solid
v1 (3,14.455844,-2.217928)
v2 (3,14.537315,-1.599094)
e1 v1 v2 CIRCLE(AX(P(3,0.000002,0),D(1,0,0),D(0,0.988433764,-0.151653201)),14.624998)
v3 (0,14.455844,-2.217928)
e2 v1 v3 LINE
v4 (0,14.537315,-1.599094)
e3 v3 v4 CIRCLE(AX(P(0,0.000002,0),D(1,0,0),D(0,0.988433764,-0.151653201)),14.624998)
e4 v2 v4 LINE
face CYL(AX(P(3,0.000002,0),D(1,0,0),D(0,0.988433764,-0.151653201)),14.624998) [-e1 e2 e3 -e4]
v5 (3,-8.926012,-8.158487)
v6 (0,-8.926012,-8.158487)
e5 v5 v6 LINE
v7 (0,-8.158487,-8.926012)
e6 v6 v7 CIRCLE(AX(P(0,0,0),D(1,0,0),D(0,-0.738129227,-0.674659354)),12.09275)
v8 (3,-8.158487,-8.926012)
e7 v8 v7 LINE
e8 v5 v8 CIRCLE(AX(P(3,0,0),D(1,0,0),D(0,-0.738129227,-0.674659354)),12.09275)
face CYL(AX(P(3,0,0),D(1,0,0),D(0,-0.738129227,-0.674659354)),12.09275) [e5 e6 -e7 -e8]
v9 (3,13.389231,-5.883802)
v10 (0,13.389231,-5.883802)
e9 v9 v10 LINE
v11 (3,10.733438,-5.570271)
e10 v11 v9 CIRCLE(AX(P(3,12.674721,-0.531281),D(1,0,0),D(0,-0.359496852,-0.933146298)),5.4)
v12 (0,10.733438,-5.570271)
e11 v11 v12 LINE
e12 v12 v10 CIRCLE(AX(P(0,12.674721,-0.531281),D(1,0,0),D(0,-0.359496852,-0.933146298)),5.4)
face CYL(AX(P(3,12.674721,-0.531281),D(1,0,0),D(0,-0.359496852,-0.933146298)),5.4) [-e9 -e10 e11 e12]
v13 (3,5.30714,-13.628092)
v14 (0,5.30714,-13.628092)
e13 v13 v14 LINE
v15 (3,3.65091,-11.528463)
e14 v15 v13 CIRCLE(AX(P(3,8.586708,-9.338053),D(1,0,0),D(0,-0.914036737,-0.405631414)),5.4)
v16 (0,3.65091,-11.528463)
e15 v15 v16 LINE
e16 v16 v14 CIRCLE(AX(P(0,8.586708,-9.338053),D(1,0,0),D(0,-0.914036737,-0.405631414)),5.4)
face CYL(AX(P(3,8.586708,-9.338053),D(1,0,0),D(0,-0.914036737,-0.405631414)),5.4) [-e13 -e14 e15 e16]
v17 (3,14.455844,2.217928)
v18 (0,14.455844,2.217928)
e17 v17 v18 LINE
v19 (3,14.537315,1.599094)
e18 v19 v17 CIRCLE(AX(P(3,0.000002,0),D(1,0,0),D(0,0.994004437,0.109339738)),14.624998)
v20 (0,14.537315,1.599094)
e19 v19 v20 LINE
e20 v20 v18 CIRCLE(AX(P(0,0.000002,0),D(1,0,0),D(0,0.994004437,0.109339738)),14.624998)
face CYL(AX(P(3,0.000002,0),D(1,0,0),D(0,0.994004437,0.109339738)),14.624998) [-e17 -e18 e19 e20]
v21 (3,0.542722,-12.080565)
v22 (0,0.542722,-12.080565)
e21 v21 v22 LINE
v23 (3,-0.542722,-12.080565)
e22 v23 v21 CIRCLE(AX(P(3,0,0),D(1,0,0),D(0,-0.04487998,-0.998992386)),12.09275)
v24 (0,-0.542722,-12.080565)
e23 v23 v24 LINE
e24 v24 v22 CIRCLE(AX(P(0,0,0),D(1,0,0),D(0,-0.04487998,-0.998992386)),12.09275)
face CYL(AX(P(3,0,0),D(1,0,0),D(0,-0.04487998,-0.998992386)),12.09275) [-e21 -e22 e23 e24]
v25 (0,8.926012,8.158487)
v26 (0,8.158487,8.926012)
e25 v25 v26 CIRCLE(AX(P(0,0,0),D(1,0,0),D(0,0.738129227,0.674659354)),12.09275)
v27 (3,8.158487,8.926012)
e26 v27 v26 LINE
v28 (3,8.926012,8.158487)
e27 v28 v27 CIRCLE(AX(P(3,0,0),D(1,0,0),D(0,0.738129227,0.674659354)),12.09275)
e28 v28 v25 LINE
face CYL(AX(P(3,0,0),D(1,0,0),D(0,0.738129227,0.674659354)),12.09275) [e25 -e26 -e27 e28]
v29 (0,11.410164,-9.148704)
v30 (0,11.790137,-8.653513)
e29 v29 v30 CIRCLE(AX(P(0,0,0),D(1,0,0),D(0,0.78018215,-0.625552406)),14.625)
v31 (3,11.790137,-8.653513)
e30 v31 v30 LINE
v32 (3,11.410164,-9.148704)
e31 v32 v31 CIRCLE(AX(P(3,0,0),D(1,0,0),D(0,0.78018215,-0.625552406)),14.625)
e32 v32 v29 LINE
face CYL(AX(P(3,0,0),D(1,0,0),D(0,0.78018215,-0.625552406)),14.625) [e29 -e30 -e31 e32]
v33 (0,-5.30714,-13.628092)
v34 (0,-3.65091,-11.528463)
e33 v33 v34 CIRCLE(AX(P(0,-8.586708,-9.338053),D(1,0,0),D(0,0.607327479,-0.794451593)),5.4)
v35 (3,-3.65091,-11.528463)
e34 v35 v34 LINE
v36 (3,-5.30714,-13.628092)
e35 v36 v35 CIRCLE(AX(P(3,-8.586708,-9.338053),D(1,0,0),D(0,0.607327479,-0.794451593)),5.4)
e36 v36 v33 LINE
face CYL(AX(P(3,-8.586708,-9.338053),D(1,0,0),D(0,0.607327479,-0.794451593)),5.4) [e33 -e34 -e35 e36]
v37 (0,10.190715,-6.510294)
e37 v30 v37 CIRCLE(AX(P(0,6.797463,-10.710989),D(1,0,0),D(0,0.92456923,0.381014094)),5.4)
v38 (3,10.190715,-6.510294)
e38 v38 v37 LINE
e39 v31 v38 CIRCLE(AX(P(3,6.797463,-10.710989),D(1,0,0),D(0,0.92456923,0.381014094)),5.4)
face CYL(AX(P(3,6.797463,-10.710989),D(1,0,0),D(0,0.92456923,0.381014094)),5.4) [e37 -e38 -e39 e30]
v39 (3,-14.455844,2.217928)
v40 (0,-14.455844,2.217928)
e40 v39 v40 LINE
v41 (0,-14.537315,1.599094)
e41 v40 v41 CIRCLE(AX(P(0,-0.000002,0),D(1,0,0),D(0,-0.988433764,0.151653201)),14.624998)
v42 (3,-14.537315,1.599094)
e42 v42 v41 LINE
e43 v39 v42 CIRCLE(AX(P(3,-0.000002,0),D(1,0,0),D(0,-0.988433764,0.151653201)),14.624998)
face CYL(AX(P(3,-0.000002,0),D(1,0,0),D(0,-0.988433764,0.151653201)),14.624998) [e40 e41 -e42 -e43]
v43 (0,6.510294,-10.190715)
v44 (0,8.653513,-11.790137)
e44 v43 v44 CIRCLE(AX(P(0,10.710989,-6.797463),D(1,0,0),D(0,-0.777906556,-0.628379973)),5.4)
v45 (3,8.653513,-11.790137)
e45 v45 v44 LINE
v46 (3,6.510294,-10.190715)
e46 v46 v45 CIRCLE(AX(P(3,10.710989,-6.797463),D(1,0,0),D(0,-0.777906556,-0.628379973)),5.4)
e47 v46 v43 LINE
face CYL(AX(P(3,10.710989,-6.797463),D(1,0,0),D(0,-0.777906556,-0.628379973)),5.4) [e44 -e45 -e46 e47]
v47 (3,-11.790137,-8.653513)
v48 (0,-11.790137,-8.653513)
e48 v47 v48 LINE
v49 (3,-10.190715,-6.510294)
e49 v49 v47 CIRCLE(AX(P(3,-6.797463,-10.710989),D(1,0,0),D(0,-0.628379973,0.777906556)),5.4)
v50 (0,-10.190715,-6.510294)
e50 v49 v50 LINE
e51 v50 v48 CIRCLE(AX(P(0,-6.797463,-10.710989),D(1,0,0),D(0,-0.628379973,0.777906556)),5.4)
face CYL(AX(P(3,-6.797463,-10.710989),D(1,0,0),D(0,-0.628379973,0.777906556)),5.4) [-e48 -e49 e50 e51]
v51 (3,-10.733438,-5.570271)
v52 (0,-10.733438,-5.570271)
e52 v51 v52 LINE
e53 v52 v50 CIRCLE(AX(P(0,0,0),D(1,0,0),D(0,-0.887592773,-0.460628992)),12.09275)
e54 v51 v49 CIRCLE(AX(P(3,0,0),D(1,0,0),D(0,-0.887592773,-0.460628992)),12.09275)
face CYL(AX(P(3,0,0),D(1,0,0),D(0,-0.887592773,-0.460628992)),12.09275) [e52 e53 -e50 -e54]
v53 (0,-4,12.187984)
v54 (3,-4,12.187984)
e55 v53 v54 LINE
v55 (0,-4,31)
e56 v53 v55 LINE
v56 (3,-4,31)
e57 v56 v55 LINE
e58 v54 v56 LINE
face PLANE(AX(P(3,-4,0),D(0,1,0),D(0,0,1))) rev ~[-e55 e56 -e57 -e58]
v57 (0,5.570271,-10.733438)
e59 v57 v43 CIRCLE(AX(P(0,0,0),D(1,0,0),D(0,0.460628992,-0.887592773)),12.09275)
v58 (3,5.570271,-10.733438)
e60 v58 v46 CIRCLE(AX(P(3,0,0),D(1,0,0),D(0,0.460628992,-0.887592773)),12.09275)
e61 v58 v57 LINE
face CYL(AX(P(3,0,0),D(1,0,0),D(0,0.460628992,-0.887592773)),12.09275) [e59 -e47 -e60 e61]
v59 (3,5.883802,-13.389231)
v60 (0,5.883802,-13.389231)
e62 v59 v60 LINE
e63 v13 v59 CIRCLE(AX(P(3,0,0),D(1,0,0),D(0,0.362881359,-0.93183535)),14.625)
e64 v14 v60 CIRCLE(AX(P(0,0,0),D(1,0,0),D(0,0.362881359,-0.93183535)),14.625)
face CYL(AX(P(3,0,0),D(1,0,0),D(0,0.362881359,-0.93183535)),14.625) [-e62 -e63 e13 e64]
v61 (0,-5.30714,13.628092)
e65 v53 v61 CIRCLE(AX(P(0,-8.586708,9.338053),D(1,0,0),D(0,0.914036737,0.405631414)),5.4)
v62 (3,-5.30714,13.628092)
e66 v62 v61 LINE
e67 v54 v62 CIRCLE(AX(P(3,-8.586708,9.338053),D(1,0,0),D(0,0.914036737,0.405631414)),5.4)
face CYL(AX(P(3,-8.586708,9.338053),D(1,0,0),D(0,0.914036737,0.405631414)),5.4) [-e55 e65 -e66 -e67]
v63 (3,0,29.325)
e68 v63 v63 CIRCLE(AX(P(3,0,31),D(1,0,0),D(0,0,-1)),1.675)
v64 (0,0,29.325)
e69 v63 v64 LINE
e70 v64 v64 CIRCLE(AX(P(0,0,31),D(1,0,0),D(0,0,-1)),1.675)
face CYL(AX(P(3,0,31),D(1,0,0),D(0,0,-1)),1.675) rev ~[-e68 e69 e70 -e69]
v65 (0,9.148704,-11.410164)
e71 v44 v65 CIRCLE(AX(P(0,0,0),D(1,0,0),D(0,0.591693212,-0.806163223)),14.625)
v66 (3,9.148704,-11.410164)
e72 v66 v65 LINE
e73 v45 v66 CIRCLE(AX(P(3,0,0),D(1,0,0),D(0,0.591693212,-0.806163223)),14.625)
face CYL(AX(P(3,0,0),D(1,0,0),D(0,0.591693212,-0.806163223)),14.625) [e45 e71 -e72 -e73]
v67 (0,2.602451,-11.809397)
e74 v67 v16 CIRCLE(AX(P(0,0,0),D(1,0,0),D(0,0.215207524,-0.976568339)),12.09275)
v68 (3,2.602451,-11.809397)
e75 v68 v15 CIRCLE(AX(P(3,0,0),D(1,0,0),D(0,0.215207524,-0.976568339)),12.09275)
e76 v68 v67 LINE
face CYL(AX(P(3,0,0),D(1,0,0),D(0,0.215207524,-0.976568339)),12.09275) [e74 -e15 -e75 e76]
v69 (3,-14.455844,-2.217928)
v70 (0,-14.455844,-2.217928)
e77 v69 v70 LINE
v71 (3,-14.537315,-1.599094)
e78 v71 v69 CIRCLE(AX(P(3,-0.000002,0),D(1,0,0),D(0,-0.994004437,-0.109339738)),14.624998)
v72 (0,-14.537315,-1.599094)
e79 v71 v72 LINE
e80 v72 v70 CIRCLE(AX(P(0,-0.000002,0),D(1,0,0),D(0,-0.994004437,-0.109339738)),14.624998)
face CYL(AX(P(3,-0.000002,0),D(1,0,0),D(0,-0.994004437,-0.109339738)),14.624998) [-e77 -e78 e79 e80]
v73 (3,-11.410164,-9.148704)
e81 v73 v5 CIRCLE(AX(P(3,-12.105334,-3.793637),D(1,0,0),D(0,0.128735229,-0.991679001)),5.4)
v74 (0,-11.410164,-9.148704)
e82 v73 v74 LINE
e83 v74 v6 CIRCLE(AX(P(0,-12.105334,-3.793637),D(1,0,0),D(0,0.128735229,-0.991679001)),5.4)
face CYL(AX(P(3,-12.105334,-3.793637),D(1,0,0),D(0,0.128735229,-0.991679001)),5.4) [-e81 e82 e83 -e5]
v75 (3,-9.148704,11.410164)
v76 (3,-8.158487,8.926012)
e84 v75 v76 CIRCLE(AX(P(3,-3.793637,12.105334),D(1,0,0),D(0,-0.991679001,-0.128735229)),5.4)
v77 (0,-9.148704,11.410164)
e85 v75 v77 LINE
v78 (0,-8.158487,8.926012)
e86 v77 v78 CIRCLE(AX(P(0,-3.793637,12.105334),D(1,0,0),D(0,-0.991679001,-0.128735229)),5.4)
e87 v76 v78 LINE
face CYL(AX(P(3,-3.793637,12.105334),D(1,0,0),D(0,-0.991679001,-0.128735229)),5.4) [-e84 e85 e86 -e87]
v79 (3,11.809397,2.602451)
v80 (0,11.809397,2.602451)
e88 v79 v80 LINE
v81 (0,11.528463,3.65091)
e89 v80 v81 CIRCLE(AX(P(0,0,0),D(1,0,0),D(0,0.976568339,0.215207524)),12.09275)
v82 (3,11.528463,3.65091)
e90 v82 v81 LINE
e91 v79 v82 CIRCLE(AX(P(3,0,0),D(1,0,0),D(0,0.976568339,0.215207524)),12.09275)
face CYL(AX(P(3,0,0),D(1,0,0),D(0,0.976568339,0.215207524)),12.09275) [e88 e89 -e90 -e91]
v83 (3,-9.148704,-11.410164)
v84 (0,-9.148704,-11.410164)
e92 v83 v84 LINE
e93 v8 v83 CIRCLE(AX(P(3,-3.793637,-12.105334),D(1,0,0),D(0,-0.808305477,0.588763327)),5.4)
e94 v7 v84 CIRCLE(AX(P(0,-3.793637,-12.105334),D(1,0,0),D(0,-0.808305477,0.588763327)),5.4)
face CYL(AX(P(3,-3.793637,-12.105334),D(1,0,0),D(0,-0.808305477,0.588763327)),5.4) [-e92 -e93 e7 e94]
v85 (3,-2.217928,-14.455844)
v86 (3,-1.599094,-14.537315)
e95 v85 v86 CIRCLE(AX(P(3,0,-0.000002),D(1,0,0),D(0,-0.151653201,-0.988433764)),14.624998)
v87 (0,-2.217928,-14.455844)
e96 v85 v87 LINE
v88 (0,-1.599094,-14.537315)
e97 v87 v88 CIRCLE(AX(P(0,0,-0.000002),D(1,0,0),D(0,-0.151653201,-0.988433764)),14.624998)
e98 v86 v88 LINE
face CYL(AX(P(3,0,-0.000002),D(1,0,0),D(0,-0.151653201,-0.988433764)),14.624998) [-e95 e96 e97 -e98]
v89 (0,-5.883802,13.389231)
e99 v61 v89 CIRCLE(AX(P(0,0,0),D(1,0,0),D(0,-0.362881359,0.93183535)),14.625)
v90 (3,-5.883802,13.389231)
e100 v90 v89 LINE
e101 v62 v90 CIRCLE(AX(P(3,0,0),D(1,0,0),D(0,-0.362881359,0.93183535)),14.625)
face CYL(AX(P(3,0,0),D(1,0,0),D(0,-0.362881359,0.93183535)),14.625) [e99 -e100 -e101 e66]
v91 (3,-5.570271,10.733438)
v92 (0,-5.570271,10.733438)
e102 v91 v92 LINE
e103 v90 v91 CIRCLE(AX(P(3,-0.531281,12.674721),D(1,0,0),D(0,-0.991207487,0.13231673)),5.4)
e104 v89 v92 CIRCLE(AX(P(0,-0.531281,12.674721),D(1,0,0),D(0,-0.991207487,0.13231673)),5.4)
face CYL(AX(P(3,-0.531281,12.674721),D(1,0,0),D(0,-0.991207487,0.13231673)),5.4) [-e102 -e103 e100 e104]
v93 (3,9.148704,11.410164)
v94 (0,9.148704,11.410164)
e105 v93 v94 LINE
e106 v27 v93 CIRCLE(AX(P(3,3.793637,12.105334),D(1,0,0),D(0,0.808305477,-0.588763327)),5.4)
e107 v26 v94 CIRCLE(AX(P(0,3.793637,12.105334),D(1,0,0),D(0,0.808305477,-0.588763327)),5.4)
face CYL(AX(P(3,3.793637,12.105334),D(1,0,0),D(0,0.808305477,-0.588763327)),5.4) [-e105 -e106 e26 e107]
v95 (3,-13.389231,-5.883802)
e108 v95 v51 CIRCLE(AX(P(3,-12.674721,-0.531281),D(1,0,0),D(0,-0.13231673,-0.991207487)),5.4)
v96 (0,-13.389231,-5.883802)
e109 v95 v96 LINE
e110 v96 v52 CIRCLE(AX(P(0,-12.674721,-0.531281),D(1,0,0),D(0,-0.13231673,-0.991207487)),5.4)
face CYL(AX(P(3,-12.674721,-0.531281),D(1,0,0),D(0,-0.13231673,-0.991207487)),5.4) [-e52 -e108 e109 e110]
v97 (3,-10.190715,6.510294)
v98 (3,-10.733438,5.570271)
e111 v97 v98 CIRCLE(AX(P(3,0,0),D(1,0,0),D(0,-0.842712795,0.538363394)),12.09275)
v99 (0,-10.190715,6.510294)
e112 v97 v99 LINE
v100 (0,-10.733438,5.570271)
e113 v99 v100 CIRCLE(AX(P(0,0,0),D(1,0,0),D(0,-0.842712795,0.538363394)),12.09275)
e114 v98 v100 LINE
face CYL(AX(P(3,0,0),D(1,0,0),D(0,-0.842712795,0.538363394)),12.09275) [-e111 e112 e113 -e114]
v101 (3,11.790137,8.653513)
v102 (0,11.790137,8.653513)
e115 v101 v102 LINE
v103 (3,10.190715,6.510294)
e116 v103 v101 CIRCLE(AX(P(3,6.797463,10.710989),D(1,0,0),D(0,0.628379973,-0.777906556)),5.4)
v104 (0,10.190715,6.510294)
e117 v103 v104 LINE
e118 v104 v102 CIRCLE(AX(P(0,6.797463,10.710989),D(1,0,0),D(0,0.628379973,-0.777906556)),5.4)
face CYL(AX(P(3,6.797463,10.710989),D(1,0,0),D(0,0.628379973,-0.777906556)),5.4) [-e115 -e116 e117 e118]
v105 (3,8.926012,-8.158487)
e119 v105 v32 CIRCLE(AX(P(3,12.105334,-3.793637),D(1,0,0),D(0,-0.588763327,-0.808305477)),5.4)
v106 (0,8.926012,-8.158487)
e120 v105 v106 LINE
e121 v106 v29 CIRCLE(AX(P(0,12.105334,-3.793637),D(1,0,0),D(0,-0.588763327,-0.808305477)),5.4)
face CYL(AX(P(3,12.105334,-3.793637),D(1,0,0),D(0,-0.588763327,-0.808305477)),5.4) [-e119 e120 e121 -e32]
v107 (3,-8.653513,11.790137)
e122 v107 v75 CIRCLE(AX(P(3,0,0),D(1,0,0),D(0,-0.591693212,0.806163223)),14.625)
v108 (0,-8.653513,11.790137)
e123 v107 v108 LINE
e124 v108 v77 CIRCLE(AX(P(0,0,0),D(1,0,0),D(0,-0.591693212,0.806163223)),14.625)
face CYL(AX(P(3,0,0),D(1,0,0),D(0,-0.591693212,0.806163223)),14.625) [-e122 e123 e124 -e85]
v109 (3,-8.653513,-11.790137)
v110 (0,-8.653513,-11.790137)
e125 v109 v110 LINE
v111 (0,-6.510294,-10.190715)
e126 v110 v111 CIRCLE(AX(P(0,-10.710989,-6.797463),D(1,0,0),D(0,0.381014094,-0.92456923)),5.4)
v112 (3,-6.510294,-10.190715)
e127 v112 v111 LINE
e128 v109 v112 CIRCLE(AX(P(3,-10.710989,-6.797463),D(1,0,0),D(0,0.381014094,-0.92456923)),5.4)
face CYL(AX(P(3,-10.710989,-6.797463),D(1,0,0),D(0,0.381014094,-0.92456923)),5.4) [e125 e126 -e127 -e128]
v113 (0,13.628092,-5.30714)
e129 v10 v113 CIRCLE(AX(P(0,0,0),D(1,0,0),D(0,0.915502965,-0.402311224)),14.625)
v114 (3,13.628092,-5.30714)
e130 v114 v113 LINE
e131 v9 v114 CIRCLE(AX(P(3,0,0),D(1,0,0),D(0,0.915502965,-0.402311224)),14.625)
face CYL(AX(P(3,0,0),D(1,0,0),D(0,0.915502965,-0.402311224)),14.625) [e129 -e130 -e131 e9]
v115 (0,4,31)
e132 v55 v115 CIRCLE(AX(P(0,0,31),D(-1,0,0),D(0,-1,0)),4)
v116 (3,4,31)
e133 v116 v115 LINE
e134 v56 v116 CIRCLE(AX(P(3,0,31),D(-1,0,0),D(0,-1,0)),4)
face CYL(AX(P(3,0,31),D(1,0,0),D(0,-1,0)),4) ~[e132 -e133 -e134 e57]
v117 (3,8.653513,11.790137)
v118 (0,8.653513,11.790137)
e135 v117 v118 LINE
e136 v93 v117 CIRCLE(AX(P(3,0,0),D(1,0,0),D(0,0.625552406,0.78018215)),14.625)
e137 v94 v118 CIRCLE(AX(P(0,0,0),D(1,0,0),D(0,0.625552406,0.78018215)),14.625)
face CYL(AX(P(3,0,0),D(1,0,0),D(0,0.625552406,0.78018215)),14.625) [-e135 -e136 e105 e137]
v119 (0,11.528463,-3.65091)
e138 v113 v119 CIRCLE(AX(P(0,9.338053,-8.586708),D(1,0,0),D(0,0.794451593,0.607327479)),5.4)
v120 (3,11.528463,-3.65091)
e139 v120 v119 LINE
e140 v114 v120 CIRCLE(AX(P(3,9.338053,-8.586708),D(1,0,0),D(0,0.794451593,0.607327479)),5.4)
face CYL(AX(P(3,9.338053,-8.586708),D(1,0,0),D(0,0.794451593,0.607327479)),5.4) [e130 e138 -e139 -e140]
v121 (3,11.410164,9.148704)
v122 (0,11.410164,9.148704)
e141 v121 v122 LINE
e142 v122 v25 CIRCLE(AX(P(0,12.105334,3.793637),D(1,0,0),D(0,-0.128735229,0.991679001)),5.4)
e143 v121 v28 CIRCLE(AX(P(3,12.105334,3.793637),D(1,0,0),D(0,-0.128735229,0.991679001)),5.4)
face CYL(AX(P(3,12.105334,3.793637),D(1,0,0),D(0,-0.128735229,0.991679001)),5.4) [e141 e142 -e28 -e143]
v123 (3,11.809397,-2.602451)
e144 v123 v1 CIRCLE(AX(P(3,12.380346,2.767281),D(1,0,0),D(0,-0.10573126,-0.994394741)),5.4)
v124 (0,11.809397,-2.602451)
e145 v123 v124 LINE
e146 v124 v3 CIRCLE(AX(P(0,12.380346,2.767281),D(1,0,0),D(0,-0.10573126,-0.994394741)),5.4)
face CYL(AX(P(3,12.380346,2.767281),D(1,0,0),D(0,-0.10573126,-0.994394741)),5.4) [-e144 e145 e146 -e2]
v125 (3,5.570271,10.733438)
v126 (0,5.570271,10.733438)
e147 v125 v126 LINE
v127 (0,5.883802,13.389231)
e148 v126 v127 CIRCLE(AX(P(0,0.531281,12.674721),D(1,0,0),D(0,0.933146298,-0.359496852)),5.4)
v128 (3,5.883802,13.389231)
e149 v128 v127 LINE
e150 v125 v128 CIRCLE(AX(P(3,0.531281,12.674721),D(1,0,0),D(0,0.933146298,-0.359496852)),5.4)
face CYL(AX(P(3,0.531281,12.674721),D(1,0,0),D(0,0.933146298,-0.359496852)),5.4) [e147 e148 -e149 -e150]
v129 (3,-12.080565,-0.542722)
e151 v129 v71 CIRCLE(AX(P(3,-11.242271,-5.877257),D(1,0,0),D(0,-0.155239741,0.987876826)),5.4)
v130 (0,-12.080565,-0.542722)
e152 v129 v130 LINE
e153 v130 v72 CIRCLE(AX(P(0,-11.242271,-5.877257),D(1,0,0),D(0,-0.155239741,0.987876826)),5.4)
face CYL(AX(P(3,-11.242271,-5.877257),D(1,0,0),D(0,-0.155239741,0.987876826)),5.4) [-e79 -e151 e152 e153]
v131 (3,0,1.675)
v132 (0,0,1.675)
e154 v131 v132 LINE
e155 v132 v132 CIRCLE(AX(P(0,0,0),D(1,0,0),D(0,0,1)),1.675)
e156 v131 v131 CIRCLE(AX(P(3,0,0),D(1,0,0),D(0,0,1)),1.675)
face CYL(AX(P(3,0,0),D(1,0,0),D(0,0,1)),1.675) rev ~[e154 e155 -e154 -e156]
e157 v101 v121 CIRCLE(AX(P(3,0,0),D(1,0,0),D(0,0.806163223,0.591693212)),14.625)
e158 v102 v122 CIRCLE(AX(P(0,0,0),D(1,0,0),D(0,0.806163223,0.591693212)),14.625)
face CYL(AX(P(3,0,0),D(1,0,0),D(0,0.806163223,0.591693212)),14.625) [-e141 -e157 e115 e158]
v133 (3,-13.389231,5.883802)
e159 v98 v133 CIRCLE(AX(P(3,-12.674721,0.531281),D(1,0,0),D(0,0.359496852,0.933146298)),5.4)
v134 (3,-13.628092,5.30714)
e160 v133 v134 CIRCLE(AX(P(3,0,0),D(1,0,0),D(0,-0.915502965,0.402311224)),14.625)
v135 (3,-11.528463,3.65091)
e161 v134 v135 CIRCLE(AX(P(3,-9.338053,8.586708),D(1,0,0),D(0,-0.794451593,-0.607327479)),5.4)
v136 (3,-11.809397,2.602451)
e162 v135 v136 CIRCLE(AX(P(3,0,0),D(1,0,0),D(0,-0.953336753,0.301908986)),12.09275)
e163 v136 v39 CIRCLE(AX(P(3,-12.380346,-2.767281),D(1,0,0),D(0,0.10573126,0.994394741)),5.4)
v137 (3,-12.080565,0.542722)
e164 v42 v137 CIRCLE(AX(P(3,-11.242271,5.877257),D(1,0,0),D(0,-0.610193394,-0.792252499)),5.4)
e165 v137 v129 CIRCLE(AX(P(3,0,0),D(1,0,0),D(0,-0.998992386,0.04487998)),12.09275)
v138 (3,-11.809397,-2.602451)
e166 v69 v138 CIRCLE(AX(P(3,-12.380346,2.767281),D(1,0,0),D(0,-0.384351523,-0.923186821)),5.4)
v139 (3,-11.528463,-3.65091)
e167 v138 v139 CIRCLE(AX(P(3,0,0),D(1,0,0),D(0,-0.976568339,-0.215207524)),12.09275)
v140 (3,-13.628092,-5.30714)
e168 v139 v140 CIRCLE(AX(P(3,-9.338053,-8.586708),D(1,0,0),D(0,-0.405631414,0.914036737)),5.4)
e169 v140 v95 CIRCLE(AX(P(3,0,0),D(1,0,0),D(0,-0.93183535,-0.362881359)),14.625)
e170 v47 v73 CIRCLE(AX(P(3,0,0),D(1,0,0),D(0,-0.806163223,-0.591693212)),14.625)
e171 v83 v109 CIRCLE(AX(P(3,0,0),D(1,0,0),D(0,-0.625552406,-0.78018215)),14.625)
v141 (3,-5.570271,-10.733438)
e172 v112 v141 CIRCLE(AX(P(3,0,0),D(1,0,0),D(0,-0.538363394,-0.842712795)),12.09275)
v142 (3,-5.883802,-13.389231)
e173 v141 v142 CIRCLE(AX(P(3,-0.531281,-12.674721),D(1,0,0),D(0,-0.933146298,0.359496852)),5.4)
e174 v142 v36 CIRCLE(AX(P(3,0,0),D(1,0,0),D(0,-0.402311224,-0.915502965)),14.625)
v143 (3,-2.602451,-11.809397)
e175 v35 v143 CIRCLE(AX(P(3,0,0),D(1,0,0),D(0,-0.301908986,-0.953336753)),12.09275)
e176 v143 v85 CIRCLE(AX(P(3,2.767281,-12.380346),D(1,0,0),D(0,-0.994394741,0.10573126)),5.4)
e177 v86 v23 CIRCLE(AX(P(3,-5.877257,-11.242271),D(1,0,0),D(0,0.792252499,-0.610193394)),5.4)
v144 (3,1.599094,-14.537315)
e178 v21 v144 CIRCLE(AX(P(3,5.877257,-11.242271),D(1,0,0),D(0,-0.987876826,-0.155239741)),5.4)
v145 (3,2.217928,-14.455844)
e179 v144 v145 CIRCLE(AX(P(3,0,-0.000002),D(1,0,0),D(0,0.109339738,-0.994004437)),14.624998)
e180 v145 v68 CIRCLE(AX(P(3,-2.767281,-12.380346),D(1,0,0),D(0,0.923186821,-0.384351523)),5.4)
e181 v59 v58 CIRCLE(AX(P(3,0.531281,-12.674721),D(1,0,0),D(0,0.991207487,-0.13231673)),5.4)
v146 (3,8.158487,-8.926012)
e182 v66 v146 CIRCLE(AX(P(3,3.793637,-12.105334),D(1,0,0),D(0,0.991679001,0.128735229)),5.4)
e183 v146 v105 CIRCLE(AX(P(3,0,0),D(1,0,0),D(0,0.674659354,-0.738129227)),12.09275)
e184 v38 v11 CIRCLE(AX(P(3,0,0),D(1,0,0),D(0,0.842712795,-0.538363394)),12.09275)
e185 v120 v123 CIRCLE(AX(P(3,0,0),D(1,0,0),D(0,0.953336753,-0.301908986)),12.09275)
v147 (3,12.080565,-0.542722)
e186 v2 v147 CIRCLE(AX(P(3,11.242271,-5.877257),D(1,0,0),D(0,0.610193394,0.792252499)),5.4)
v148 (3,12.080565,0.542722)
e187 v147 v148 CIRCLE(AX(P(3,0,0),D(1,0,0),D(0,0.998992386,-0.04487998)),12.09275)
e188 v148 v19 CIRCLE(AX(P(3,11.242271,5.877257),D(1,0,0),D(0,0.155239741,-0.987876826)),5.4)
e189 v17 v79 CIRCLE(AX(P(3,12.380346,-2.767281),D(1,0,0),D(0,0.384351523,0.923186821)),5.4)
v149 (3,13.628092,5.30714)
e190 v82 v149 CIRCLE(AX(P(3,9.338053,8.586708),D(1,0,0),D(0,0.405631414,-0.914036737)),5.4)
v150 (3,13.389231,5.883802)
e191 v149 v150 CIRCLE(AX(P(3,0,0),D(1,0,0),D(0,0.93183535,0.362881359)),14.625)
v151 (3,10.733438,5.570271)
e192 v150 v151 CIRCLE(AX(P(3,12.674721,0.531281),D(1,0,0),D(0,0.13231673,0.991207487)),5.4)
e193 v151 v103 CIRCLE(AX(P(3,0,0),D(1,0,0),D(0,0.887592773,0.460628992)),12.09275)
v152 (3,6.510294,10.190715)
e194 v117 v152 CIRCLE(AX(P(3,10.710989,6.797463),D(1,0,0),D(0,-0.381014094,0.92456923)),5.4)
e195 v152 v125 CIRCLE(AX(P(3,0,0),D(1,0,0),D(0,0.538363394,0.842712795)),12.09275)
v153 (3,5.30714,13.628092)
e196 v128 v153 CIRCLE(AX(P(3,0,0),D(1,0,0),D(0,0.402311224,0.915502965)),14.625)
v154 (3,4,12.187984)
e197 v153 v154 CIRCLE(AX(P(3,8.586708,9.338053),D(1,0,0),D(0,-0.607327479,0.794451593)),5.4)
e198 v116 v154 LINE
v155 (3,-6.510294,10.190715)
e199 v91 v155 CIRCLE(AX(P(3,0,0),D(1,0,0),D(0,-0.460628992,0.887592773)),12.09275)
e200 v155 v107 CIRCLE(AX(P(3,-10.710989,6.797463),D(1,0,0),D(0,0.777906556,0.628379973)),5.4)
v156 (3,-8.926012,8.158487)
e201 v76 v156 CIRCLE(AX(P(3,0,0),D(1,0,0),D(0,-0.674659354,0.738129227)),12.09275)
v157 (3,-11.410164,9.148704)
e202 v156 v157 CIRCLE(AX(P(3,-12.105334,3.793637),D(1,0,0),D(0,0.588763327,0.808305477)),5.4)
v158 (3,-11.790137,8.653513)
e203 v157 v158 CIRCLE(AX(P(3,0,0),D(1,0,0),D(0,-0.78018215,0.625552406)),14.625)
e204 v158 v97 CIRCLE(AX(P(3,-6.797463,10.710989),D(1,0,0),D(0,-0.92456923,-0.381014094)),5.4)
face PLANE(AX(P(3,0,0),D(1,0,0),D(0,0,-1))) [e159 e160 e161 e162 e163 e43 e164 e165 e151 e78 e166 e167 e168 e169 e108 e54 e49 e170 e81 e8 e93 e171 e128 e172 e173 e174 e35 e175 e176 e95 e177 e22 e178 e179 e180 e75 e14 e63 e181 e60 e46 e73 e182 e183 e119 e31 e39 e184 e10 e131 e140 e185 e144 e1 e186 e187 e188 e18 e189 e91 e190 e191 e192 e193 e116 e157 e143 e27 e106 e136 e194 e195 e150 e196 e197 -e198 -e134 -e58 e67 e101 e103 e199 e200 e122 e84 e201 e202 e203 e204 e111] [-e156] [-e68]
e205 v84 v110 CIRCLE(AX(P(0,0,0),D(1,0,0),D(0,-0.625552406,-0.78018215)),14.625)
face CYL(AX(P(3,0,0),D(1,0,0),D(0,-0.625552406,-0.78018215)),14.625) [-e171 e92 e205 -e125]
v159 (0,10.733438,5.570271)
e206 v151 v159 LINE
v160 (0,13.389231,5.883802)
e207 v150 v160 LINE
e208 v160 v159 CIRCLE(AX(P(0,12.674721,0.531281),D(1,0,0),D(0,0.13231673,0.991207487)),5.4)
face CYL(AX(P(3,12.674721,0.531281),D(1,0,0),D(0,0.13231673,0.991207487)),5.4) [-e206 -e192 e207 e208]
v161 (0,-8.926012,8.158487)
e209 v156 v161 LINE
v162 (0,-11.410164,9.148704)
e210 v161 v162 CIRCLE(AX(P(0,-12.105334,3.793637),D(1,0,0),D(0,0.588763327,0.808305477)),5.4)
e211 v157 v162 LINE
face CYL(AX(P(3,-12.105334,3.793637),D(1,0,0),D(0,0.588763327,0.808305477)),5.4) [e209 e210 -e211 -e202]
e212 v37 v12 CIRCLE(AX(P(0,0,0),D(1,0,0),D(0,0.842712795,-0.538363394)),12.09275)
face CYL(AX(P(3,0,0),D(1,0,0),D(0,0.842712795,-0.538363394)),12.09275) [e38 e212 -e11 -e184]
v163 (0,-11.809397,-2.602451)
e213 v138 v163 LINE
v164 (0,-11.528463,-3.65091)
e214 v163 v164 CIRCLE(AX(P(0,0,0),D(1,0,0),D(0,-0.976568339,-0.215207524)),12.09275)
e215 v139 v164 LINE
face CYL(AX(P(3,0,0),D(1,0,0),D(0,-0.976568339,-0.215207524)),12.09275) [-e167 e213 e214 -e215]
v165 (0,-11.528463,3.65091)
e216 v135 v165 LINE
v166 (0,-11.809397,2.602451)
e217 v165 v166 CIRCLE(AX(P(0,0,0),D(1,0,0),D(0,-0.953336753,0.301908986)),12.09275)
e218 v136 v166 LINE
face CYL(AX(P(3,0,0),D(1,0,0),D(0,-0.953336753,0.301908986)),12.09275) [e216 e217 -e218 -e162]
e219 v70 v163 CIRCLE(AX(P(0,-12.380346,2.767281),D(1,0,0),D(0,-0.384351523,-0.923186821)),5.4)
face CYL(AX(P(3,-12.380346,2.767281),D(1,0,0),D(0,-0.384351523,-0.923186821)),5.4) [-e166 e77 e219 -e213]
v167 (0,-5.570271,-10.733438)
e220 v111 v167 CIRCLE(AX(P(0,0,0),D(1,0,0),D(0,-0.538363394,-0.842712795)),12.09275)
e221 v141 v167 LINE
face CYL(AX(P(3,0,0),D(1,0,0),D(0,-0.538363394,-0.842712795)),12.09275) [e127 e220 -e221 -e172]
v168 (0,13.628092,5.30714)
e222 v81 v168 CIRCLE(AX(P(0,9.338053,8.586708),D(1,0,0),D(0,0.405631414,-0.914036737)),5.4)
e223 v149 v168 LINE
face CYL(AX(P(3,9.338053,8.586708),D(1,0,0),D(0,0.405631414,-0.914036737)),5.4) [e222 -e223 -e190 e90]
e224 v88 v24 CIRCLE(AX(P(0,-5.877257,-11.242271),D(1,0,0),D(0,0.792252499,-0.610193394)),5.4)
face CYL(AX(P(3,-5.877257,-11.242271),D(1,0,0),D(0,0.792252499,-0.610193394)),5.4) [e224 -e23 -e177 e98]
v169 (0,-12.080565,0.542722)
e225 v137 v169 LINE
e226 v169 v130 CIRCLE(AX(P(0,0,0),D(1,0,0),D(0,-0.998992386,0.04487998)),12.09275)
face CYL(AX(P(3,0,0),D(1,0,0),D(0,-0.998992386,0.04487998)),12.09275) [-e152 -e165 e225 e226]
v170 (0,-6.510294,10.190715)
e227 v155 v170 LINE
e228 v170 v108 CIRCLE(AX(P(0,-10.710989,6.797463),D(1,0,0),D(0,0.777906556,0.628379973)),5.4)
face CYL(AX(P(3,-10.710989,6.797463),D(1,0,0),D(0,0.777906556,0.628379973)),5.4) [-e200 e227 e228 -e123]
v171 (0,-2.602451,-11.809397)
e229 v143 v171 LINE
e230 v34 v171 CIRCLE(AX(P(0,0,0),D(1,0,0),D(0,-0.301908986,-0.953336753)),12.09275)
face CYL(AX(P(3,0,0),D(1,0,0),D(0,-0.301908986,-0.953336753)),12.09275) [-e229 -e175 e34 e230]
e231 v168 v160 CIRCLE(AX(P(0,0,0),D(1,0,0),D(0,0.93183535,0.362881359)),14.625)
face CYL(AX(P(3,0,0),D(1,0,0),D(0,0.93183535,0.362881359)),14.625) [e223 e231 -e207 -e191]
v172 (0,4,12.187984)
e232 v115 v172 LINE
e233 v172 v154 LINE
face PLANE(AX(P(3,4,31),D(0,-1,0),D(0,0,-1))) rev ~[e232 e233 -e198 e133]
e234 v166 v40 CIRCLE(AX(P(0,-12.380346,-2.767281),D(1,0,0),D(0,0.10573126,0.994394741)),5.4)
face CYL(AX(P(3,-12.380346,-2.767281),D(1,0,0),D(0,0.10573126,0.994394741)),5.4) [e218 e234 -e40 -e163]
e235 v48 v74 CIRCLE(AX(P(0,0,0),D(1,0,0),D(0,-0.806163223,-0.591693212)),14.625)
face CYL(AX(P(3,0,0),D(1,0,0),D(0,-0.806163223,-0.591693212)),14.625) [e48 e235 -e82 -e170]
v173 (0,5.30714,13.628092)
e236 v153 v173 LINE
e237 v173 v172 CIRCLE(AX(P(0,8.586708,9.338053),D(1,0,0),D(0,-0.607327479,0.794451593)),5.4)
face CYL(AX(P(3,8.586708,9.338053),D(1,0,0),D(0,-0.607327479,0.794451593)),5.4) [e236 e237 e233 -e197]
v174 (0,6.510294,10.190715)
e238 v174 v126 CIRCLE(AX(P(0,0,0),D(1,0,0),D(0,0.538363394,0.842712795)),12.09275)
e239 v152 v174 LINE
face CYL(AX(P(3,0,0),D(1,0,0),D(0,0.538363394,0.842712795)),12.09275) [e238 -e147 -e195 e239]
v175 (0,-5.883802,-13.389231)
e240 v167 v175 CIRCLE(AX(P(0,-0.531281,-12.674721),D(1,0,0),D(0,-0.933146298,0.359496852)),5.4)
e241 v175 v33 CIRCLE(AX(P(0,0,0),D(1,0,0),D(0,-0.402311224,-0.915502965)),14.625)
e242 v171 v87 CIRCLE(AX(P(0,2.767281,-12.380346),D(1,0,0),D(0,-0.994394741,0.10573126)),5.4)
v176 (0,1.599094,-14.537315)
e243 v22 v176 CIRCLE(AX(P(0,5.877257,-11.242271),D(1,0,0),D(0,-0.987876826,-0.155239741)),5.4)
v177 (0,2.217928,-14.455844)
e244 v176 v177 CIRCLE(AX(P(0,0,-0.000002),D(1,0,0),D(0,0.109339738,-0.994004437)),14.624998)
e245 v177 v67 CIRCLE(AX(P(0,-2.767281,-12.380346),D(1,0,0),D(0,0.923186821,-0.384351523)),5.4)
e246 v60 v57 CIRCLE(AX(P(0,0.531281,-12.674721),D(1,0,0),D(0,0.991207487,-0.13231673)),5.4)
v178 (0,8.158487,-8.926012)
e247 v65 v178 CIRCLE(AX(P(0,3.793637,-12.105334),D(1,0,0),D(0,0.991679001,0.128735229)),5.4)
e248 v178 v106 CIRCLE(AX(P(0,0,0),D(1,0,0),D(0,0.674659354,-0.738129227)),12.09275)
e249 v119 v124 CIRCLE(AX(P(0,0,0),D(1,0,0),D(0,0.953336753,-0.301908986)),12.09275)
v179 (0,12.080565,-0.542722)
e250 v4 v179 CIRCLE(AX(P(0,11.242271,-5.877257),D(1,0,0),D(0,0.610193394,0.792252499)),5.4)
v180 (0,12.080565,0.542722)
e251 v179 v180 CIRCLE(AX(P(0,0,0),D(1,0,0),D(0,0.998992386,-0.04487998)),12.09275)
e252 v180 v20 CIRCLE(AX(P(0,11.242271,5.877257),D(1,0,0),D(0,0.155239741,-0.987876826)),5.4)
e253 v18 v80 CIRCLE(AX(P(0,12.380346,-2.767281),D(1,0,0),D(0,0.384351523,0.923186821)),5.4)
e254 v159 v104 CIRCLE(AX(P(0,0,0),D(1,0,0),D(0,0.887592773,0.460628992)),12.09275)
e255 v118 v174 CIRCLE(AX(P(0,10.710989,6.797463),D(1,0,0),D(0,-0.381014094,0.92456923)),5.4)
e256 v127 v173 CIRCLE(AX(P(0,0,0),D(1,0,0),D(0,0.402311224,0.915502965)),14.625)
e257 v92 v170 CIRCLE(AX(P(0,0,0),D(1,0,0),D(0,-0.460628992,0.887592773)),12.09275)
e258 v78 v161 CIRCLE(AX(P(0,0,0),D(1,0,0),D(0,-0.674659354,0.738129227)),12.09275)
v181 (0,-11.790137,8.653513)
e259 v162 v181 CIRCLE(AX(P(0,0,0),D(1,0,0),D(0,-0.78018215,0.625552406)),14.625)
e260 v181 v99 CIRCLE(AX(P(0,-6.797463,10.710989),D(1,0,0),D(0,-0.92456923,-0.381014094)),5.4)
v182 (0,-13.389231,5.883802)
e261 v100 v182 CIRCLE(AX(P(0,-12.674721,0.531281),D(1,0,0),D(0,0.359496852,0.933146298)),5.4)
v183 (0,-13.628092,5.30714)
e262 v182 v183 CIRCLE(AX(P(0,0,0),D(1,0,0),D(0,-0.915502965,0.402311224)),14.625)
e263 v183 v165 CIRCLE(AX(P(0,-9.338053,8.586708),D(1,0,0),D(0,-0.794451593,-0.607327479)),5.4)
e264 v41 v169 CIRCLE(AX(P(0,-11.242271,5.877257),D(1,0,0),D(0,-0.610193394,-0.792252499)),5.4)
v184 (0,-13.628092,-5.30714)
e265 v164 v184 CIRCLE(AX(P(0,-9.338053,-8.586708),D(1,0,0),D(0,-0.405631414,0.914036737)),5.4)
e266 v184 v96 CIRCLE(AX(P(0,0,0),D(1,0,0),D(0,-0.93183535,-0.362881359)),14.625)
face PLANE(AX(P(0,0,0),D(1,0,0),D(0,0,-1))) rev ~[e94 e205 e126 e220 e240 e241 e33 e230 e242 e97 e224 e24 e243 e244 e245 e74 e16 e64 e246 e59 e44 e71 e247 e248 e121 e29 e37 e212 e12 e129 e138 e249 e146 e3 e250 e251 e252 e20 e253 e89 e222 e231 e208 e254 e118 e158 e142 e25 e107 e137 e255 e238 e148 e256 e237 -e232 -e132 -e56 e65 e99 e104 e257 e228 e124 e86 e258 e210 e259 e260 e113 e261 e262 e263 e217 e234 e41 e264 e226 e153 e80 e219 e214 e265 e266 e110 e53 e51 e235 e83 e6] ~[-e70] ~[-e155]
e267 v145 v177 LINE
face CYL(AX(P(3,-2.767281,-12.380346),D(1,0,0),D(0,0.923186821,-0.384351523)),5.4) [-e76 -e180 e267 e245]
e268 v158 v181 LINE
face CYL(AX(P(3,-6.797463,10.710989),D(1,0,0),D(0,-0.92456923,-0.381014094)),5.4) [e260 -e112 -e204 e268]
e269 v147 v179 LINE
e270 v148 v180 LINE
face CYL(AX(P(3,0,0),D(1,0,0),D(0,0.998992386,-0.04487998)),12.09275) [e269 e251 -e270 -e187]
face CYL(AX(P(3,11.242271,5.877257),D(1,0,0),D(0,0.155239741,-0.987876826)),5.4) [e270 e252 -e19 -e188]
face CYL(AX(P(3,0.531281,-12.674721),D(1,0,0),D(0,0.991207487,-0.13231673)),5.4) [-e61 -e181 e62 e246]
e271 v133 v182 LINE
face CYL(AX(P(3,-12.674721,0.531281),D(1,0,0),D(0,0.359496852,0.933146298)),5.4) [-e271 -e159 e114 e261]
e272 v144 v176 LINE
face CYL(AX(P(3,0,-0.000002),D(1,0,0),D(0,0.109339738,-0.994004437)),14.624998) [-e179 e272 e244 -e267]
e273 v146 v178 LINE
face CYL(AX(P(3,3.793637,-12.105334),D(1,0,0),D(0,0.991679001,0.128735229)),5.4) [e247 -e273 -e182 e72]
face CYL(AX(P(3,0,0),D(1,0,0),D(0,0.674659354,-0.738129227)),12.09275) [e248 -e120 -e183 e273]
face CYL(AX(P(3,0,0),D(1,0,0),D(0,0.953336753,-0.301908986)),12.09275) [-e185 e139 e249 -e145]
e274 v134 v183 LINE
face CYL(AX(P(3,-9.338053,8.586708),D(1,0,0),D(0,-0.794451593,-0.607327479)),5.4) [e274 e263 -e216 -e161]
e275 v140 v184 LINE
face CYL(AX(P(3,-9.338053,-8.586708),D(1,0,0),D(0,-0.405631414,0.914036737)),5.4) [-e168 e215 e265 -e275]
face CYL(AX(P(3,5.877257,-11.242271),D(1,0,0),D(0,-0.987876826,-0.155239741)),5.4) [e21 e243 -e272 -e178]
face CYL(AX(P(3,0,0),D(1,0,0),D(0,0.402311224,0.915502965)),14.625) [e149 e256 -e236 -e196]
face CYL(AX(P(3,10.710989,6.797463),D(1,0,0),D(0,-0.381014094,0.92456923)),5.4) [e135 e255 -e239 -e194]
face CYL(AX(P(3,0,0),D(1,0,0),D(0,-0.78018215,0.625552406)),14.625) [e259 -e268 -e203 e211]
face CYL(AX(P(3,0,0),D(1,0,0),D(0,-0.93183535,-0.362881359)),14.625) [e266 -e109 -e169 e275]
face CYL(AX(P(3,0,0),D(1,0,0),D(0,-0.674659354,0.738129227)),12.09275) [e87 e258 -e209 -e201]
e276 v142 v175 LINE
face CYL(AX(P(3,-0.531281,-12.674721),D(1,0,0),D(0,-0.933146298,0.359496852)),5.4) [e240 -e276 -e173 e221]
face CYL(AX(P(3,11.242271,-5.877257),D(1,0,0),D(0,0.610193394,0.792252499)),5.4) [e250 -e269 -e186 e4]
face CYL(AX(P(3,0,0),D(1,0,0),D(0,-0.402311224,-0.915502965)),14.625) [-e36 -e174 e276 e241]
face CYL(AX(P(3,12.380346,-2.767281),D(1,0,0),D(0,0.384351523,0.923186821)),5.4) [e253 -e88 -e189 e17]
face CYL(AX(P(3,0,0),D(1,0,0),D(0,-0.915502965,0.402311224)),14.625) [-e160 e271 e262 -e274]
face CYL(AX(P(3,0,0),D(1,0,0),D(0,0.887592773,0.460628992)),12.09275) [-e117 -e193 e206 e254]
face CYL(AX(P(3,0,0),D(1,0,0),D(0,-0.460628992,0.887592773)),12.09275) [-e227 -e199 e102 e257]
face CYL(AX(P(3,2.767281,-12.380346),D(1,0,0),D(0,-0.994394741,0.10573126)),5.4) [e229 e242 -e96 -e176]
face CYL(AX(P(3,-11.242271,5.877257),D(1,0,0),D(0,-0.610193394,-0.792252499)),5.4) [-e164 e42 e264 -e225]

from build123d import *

# Parameters (mm, degrees)
SKETCH1_R           = 1.675
BOSS_EXTRUDE1_DEPTH = 3
SKETCH2_R           = 1.675
BOSS_EXTRUDE2_DEPTH = 3


with BuildPart() as part:
    # Sketch1 → Boss-Extrude1 (new body)
    with BuildSketch(Plane(origin=(3, 0, 0), x_dir=(0, 0, -1), z_dir=(1, 0, 0))):
        with BuildLine():
            ThreePointArc((-14.537314892, 1.599093719), (-13.375367565, 0.916420874), (-12.080565177, 0.542722358))
            ThreePointArc((-12.080565177, 0.542722358), (-12.09275, 0), (-12.080565177, -0.542722358))
            ThreePointArc((-12.080565177, -0.542722358), (-13.375367565, -0.916420874), (-14.537314892, -1.599093719))
            ThreePointArc((-14.537314892, -1.599093719), (-14.499881098, -1.908945561), (-14.455843809, -2.217928037))
            ThreePointArc((-14.455843809, -2.217928037), (-13.156800143, -2.576605271), (-11.809396783, -2.602450802))
            ThreePointArc((-11.809396783, -2.602450802), (-11.680699536, -3.129834008), (-11.528463019, -3.650909885))
            ThreePointArc((-11.528463019, -3.650909885), (-12.682425791, -4.346994451), (-13.62809199, -5.30713988))
            ThreePointArc((-13.62809199, -5.30713988), (-13.511738163, -5.596745198), (-13.389230859, -5.883801663))
            ThreePointArc((-13.389230859, -5.883801663), (-12.041618533, -5.894040025), (-10.733437515, -5.57027124))
            ThreePointArc((-10.733437515, -5.57027124), (-10.472628702, -6.046375), (-10.190715157, -6.510293938))
            ThreePointArc((-10.190715157, -6.510293938), (-11.125197659, -7.48132754), (-11.79013714, -8.65351323))
            ThreePointArc((-11.79013714, -8.65351323), (-11.602792602, -8.903135899), (-11.410163953, -9.148703928))
            ThreePointArc((-11.410163953, -9.148703928), (-10.105820521, -8.809805691), (-8.926012217, -8.158486898))
            ThreePointArc((-8.926012217, -8.158486898), (-8.550865528, -8.550865528), (-8.158486898, -8.926012217))
            ThreePointArc((-8.158486898, -8.926012217), (-8.809805691, -10.105820521), (-9.148703928, -11.410163953))
            ThreePointArc((-9.148703928, -11.410163953), (-8.903135899, -11.602792602), (-8.65351323, -11.79013714))
            ThreePointArc((-8.65351323, -11.79013714), (-7.48132754, -11.125197659), (-6.510293938, -10.190715157))
            ThreePointArc((-6.510293938, -10.190715157), (-6.046375, -10.472628702), (-5.57027124, -10.733437515))
            ThreePointArc((-5.57027124, -10.733437515), (-5.894040025, -12.041618533), (-5.883801663, -13.389230859))
            ThreePointArc((-5.883801663, -13.389230859), (-5.596745198, -13.511738163), (-5.30713988, -13.62809199))
            ThreePointArc((-5.30713988, -13.62809199), (-4.346994451, -12.682425791), (-3.650909885, -11.528463019))
            ThreePointArc((-3.650909885, -11.528463019), (-3.129834008, -11.680699536), (-2.602450802, -11.809396783))
            ThreePointArc((-2.602450802, -11.809396783), (-2.576605271, -13.156800143), (-2.217928037, -14.455843809))
            ThreePointArc((-2.217928037, -14.455843809), (-1.908945561, -14.499881098), (-1.599093719, -14.537314892))
            ThreePointArc((-1.599093719, -14.537314892), (-0.916420874, -13.375367565), (-0.542722358, -12.080565177))
            ThreePointArc((-0.542722358, -12.080565177), (0, -12.09275), (0.542722358, -12.080565177))
            ThreePointArc((0.542722358, -12.080565177), (0.916420874, -13.375367565), (1.599093719, -14.537314892))
            ThreePointArc((1.599093719, -14.537314892), (1.908945561, -14.499881098), (2.217928037, -14.455843809))
            ThreePointArc((2.217928037, -14.455843809), (2.576605271, -13.156800143), (2.602450802, -11.809396783))
            ThreePointArc((2.602450802, -11.809396783), (3.129834008, -11.680699536), (3.650909885, -11.528463019))
            ThreePointArc((3.650909885, -11.528463019), (4.346994451, -12.682425791), (5.30713988, -13.62809199))
            ThreePointArc((5.30713988, -13.62809199), (5.596745198, -13.511738163), (5.883801663, -13.389230859))
            ThreePointArc((5.883801663, -13.389230859), (5.894040025, -12.041618533), (5.57027124, -10.733437515))
            ThreePointArc((5.57027124, -10.733437515), (6.046375, -10.472628702), (6.510293938, -10.190715157))
            ThreePointArc((6.510293938, -10.190715157), (7.48132754, -11.125197659), (8.65351323, -11.79013714))
            ThreePointArc((8.65351323, -11.79013714), (8.903135899, -11.602792602), (9.148703928, -11.410163953))
            ThreePointArc((9.148703928, -11.410163953), (8.809805691, -10.105820521), (8.158486898, -8.926012217))
            ThreePointArc((8.158486898, -8.926012217), (8.550865528, -8.550865528), (8.926012217, -8.158486898))
            ThreePointArc((8.926012217, -8.158486898), (10.105820521, -8.809805691), (11.410163953, -9.148703928))
            ThreePointArc((11.410163953, -9.148703928), (11.602792602, -8.903135899), (11.79013714, -8.65351323))
            ThreePointArc((11.79013714, -8.65351323), (11.125197659, -7.48132754), (10.190715157, -6.510293938))
            ThreePointArc((10.190715157, -6.510293938), (10.472628702, -6.046375), (10.733437515, -5.57027124))
            ThreePointArc((10.733437515, -5.57027124), (12.041618533, -5.894040025), (13.389230859, -5.883801663))
            ThreePointArc((13.389230859, -5.883801663), (13.511738163, -5.596745198), (13.62809199, -5.30713988))
            ThreePointArc((13.62809199, -5.30713988), (12.682425791, -4.346994451), (11.528463019, -3.650909885))
            ThreePointArc((11.528463019, -3.650909885), (11.680699536, -3.129834008), (11.809396783, -2.602450802))
            ThreePointArc((11.809396783, -2.602450802), (13.156800143, -2.576605271), (14.455843809, -2.217928037))
            ThreePointArc((14.455843809, -2.217928037), (14.499881098, -1.908945561), (14.537314892, -1.599093719))
            ThreePointArc((14.537314892, -1.599093719), (13.375367565, -0.916420874), (12.080565177, -0.542722358))
            ThreePointArc((12.080565177, -0.542722358), (12.09275, 0), (12.080565177, 0.542722358))
            ThreePointArc((12.080565177, 0.542722358), (13.375367565, 0.916420874), (14.537314892, 1.599093719))
            ThreePointArc((14.537314892, 1.599093719), (14.499881098, 1.908945561), (14.455843809, 2.217928037))
            ThreePointArc((14.455843809, 2.217928037), (13.156800143, 2.576605271), (11.809396783, 2.602450802))
            ThreePointArc((11.809396783, 2.602450802), (11.680699536, 3.129834008), (11.528463019, 3.650909885))
            ThreePointArc((11.528463019, 3.650909885), (12.682425791, 4.346994451), (13.62809199, 5.30713988))
            ThreePointArc((13.62809199, 5.30713988), (13.511738163, 5.596745198), (13.389230859, 5.883801663))
            ThreePointArc((13.389230859, 5.883801663), (12.041618533, 5.894040025), (10.733437515, 5.57027124))
            ThreePointArc((10.733437515, 5.57027124), (10.472628702, 6.046375), (10.190715157, 6.510293938))
            ThreePointArc((10.190715157, 6.510293938), (11.125197659, 7.48132754), (11.79013714, 8.65351323))
            ThreePointArc((11.79013714, 8.65351323), (11.602792602, 8.903135899), (11.410163953, 9.148703928))
            ThreePointArc((11.410163953, 9.148703928), (10.105820521, 8.809805691), (8.926012217, 8.158486898))
            ThreePointArc((8.926012217, 8.158486898), (8.550865528, 8.550865528), (8.158486898, 8.926012217))
            ThreePointArc((8.158486898, 8.926012217), (8.809805691, 10.105820521), (9.148703928, 11.410163953))
            ThreePointArc((9.148703928, 11.410163953), (8.903135899, 11.602792602), (8.65351323, 11.79013714))
            ThreePointArc((8.65351323, 11.79013714), (7.48132754, 11.125197659), (6.510293938, 10.190715157))
            ThreePointArc((6.510293938, 10.190715157), (6.046375, 10.472628702), (5.57027124, 10.733437515))
            ThreePointArc((5.57027124, 10.733437515), (5.894040025, 12.041618533), (5.883801663, 13.389230859))
            ThreePointArc((5.883801663, 13.389230859), (5.596745198, 13.511738163), (5.30713988, 13.62809199))
            ThreePointArc((5.30713988, 13.62809199), (4.346994451, 12.682425791), (3.650909885, 11.528463019))
            ThreePointArc((3.650909885, 11.528463019), (3.129834008, 11.680699536), (2.602450802, 11.809396783))
            ThreePointArc((2.602450802, 11.809396783), (2.576605271, 13.156800143), (2.217928037, 14.455843809))
            ThreePointArc((2.217928037, 14.455843809), (1.908945561, 14.499881098), (1.599093719, 14.537314892))
            ThreePointArc((1.599093719, 14.537314892), (0.916420874, 13.375367565), (0.542722358, 12.080565177))
            ThreePointArc((0.542722358, 12.080565177), (0, 12.09275), (-0.542722358, 12.080565177))
            ThreePointArc((-0.542722358, 12.080565177), (-0.916420874, 13.375367565), (-1.599093719, 14.537314892))
            ThreePointArc((-1.599093719, 14.537314892), (-1.908945561, 14.499881098), (-2.217928037, 14.455843809))
            ThreePointArc((-2.217928037, 14.455843809), (-2.576605271, 13.156800143), (-2.602450802, 11.809396783))
            ThreePointArc((-2.602450802, 11.809396783), (-3.129834008, 11.680699536), (-3.650909885, 11.528463019))
            ThreePointArc((-3.650909885, 11.528463019), (-4.346994451, 12.682425791), (-5.30713988, 13.62809199))
            ThreePointArc((-5.30713988, 13.62809199), (-5.596745198, 13.511738163), (-5.883801663, 13.389230859))
            ThreePointArc((-5.883801663, 13.389230859), (-5.894040025, 12.041618533), (-5.57027124, 10.733437515))
            ThreePointArc((-5.57027124, 10.733437515), (-6.046375, 10.472628702), (-6.510293938, 10.190715157))
            ThreePointArc((-6.510293938, 10.190715157), (-7.48132754, 11.125197659), (-8.65351323, 11.79013714))
            ThreePointArc((-8.65351323, 11.79013714), (-8.903135899, 11.602792602), (-9.148703928, 11.410163953))
            ThreePointArc((-9.148703928, 11.410163953), (-8.809805691, 10.105820521), (-8.158486898, 8.926012217))
            ThreePointArc((-8.158486898, 8.926012217), (-8.550865528, 8.550865528), (-8.926012217, 8.158486898))
            ThreePointArc((-8.926012217, 8.158486898), (-10.105820521, 8.809805691), (-11.410163953, 9.148703928))
            ThreePointArc((-11.410163953, 9.148703928), (-11.602792602, 8.903135899), (-11.79013714, 8.65351323))
            ThreePointArc((-11.79013714, 8.65351323), (-11.125197659, 7.48132754), (-10.190715157, 6.510293938))
            ThreePointArc((-10.190715157, 6.510293938), (-10.472628702, 6.046375), (-10.733437515, 5.57027124))
            ThreePointArc((-10.733437515, 5.57027124), (-12.041618533, 5.894040025), (-13.389230859, 5.883801663))
            ThreePointArc((-13.389230859, 5.883801663), (-13.511738163, 5.596745198), (-13.62809199, 5.30713988))
            ThreePointArc((-13.62809199, 5.30713988), (-12.682425791, 4.346994451), (-11.528463019, 3.650909885))
            ThreePointArc((-11.528463019, 3.650909885), (-11.680699536, 3.129834008), (-11.809396783, 2.602450802))
            ThreePointArc((-11.809396783, 2.602450802), (-13.156800143, 2.576605271), (-14.455843809, 2.217928037))
            ThreePointArc((-14.455843809, 2.217928037), (-14.499881098, 1.908945561), (-14.537314892, 1.599093719))
        make_face()
        with Locations(Location((0, 0, 0), (0, 0, 180))):
            Circle(SKETCH1_R, mode=Mode.SUBTRACT)
    extrude(amount=-BOSS_EXTRUDE1_DEPTH)

    # Sketch2 → Boss-Extrude2 (add)
    with BuildSketch(Plane(origin=(3, 0, 0), x_dir=(0, 0, -1), z_dir=(1, 0, 0))):
        with BuildLine():
            Line((0, -4), (-31, -4))
            ThreePointArc((-31, -4), (-35, 0), (-31, 4))
            Line((-31, 4), (0, 4))
            ThreePointArc((0, 4), (4, 0), (0, -4))
        make_face()
        with Locations((-31, 0)):
            Circle(SKETCH2_R, mode=Mode.SUBTRACT)
        with Locations(Location((0, 0, 0), (0, 0, 180))):
            Circle(SKETCH2_R, mode=Mode.SUBTRACT)
    extrude(amount=-BOSS_EXTRUDE2_DEPTH)


solid = part.part
